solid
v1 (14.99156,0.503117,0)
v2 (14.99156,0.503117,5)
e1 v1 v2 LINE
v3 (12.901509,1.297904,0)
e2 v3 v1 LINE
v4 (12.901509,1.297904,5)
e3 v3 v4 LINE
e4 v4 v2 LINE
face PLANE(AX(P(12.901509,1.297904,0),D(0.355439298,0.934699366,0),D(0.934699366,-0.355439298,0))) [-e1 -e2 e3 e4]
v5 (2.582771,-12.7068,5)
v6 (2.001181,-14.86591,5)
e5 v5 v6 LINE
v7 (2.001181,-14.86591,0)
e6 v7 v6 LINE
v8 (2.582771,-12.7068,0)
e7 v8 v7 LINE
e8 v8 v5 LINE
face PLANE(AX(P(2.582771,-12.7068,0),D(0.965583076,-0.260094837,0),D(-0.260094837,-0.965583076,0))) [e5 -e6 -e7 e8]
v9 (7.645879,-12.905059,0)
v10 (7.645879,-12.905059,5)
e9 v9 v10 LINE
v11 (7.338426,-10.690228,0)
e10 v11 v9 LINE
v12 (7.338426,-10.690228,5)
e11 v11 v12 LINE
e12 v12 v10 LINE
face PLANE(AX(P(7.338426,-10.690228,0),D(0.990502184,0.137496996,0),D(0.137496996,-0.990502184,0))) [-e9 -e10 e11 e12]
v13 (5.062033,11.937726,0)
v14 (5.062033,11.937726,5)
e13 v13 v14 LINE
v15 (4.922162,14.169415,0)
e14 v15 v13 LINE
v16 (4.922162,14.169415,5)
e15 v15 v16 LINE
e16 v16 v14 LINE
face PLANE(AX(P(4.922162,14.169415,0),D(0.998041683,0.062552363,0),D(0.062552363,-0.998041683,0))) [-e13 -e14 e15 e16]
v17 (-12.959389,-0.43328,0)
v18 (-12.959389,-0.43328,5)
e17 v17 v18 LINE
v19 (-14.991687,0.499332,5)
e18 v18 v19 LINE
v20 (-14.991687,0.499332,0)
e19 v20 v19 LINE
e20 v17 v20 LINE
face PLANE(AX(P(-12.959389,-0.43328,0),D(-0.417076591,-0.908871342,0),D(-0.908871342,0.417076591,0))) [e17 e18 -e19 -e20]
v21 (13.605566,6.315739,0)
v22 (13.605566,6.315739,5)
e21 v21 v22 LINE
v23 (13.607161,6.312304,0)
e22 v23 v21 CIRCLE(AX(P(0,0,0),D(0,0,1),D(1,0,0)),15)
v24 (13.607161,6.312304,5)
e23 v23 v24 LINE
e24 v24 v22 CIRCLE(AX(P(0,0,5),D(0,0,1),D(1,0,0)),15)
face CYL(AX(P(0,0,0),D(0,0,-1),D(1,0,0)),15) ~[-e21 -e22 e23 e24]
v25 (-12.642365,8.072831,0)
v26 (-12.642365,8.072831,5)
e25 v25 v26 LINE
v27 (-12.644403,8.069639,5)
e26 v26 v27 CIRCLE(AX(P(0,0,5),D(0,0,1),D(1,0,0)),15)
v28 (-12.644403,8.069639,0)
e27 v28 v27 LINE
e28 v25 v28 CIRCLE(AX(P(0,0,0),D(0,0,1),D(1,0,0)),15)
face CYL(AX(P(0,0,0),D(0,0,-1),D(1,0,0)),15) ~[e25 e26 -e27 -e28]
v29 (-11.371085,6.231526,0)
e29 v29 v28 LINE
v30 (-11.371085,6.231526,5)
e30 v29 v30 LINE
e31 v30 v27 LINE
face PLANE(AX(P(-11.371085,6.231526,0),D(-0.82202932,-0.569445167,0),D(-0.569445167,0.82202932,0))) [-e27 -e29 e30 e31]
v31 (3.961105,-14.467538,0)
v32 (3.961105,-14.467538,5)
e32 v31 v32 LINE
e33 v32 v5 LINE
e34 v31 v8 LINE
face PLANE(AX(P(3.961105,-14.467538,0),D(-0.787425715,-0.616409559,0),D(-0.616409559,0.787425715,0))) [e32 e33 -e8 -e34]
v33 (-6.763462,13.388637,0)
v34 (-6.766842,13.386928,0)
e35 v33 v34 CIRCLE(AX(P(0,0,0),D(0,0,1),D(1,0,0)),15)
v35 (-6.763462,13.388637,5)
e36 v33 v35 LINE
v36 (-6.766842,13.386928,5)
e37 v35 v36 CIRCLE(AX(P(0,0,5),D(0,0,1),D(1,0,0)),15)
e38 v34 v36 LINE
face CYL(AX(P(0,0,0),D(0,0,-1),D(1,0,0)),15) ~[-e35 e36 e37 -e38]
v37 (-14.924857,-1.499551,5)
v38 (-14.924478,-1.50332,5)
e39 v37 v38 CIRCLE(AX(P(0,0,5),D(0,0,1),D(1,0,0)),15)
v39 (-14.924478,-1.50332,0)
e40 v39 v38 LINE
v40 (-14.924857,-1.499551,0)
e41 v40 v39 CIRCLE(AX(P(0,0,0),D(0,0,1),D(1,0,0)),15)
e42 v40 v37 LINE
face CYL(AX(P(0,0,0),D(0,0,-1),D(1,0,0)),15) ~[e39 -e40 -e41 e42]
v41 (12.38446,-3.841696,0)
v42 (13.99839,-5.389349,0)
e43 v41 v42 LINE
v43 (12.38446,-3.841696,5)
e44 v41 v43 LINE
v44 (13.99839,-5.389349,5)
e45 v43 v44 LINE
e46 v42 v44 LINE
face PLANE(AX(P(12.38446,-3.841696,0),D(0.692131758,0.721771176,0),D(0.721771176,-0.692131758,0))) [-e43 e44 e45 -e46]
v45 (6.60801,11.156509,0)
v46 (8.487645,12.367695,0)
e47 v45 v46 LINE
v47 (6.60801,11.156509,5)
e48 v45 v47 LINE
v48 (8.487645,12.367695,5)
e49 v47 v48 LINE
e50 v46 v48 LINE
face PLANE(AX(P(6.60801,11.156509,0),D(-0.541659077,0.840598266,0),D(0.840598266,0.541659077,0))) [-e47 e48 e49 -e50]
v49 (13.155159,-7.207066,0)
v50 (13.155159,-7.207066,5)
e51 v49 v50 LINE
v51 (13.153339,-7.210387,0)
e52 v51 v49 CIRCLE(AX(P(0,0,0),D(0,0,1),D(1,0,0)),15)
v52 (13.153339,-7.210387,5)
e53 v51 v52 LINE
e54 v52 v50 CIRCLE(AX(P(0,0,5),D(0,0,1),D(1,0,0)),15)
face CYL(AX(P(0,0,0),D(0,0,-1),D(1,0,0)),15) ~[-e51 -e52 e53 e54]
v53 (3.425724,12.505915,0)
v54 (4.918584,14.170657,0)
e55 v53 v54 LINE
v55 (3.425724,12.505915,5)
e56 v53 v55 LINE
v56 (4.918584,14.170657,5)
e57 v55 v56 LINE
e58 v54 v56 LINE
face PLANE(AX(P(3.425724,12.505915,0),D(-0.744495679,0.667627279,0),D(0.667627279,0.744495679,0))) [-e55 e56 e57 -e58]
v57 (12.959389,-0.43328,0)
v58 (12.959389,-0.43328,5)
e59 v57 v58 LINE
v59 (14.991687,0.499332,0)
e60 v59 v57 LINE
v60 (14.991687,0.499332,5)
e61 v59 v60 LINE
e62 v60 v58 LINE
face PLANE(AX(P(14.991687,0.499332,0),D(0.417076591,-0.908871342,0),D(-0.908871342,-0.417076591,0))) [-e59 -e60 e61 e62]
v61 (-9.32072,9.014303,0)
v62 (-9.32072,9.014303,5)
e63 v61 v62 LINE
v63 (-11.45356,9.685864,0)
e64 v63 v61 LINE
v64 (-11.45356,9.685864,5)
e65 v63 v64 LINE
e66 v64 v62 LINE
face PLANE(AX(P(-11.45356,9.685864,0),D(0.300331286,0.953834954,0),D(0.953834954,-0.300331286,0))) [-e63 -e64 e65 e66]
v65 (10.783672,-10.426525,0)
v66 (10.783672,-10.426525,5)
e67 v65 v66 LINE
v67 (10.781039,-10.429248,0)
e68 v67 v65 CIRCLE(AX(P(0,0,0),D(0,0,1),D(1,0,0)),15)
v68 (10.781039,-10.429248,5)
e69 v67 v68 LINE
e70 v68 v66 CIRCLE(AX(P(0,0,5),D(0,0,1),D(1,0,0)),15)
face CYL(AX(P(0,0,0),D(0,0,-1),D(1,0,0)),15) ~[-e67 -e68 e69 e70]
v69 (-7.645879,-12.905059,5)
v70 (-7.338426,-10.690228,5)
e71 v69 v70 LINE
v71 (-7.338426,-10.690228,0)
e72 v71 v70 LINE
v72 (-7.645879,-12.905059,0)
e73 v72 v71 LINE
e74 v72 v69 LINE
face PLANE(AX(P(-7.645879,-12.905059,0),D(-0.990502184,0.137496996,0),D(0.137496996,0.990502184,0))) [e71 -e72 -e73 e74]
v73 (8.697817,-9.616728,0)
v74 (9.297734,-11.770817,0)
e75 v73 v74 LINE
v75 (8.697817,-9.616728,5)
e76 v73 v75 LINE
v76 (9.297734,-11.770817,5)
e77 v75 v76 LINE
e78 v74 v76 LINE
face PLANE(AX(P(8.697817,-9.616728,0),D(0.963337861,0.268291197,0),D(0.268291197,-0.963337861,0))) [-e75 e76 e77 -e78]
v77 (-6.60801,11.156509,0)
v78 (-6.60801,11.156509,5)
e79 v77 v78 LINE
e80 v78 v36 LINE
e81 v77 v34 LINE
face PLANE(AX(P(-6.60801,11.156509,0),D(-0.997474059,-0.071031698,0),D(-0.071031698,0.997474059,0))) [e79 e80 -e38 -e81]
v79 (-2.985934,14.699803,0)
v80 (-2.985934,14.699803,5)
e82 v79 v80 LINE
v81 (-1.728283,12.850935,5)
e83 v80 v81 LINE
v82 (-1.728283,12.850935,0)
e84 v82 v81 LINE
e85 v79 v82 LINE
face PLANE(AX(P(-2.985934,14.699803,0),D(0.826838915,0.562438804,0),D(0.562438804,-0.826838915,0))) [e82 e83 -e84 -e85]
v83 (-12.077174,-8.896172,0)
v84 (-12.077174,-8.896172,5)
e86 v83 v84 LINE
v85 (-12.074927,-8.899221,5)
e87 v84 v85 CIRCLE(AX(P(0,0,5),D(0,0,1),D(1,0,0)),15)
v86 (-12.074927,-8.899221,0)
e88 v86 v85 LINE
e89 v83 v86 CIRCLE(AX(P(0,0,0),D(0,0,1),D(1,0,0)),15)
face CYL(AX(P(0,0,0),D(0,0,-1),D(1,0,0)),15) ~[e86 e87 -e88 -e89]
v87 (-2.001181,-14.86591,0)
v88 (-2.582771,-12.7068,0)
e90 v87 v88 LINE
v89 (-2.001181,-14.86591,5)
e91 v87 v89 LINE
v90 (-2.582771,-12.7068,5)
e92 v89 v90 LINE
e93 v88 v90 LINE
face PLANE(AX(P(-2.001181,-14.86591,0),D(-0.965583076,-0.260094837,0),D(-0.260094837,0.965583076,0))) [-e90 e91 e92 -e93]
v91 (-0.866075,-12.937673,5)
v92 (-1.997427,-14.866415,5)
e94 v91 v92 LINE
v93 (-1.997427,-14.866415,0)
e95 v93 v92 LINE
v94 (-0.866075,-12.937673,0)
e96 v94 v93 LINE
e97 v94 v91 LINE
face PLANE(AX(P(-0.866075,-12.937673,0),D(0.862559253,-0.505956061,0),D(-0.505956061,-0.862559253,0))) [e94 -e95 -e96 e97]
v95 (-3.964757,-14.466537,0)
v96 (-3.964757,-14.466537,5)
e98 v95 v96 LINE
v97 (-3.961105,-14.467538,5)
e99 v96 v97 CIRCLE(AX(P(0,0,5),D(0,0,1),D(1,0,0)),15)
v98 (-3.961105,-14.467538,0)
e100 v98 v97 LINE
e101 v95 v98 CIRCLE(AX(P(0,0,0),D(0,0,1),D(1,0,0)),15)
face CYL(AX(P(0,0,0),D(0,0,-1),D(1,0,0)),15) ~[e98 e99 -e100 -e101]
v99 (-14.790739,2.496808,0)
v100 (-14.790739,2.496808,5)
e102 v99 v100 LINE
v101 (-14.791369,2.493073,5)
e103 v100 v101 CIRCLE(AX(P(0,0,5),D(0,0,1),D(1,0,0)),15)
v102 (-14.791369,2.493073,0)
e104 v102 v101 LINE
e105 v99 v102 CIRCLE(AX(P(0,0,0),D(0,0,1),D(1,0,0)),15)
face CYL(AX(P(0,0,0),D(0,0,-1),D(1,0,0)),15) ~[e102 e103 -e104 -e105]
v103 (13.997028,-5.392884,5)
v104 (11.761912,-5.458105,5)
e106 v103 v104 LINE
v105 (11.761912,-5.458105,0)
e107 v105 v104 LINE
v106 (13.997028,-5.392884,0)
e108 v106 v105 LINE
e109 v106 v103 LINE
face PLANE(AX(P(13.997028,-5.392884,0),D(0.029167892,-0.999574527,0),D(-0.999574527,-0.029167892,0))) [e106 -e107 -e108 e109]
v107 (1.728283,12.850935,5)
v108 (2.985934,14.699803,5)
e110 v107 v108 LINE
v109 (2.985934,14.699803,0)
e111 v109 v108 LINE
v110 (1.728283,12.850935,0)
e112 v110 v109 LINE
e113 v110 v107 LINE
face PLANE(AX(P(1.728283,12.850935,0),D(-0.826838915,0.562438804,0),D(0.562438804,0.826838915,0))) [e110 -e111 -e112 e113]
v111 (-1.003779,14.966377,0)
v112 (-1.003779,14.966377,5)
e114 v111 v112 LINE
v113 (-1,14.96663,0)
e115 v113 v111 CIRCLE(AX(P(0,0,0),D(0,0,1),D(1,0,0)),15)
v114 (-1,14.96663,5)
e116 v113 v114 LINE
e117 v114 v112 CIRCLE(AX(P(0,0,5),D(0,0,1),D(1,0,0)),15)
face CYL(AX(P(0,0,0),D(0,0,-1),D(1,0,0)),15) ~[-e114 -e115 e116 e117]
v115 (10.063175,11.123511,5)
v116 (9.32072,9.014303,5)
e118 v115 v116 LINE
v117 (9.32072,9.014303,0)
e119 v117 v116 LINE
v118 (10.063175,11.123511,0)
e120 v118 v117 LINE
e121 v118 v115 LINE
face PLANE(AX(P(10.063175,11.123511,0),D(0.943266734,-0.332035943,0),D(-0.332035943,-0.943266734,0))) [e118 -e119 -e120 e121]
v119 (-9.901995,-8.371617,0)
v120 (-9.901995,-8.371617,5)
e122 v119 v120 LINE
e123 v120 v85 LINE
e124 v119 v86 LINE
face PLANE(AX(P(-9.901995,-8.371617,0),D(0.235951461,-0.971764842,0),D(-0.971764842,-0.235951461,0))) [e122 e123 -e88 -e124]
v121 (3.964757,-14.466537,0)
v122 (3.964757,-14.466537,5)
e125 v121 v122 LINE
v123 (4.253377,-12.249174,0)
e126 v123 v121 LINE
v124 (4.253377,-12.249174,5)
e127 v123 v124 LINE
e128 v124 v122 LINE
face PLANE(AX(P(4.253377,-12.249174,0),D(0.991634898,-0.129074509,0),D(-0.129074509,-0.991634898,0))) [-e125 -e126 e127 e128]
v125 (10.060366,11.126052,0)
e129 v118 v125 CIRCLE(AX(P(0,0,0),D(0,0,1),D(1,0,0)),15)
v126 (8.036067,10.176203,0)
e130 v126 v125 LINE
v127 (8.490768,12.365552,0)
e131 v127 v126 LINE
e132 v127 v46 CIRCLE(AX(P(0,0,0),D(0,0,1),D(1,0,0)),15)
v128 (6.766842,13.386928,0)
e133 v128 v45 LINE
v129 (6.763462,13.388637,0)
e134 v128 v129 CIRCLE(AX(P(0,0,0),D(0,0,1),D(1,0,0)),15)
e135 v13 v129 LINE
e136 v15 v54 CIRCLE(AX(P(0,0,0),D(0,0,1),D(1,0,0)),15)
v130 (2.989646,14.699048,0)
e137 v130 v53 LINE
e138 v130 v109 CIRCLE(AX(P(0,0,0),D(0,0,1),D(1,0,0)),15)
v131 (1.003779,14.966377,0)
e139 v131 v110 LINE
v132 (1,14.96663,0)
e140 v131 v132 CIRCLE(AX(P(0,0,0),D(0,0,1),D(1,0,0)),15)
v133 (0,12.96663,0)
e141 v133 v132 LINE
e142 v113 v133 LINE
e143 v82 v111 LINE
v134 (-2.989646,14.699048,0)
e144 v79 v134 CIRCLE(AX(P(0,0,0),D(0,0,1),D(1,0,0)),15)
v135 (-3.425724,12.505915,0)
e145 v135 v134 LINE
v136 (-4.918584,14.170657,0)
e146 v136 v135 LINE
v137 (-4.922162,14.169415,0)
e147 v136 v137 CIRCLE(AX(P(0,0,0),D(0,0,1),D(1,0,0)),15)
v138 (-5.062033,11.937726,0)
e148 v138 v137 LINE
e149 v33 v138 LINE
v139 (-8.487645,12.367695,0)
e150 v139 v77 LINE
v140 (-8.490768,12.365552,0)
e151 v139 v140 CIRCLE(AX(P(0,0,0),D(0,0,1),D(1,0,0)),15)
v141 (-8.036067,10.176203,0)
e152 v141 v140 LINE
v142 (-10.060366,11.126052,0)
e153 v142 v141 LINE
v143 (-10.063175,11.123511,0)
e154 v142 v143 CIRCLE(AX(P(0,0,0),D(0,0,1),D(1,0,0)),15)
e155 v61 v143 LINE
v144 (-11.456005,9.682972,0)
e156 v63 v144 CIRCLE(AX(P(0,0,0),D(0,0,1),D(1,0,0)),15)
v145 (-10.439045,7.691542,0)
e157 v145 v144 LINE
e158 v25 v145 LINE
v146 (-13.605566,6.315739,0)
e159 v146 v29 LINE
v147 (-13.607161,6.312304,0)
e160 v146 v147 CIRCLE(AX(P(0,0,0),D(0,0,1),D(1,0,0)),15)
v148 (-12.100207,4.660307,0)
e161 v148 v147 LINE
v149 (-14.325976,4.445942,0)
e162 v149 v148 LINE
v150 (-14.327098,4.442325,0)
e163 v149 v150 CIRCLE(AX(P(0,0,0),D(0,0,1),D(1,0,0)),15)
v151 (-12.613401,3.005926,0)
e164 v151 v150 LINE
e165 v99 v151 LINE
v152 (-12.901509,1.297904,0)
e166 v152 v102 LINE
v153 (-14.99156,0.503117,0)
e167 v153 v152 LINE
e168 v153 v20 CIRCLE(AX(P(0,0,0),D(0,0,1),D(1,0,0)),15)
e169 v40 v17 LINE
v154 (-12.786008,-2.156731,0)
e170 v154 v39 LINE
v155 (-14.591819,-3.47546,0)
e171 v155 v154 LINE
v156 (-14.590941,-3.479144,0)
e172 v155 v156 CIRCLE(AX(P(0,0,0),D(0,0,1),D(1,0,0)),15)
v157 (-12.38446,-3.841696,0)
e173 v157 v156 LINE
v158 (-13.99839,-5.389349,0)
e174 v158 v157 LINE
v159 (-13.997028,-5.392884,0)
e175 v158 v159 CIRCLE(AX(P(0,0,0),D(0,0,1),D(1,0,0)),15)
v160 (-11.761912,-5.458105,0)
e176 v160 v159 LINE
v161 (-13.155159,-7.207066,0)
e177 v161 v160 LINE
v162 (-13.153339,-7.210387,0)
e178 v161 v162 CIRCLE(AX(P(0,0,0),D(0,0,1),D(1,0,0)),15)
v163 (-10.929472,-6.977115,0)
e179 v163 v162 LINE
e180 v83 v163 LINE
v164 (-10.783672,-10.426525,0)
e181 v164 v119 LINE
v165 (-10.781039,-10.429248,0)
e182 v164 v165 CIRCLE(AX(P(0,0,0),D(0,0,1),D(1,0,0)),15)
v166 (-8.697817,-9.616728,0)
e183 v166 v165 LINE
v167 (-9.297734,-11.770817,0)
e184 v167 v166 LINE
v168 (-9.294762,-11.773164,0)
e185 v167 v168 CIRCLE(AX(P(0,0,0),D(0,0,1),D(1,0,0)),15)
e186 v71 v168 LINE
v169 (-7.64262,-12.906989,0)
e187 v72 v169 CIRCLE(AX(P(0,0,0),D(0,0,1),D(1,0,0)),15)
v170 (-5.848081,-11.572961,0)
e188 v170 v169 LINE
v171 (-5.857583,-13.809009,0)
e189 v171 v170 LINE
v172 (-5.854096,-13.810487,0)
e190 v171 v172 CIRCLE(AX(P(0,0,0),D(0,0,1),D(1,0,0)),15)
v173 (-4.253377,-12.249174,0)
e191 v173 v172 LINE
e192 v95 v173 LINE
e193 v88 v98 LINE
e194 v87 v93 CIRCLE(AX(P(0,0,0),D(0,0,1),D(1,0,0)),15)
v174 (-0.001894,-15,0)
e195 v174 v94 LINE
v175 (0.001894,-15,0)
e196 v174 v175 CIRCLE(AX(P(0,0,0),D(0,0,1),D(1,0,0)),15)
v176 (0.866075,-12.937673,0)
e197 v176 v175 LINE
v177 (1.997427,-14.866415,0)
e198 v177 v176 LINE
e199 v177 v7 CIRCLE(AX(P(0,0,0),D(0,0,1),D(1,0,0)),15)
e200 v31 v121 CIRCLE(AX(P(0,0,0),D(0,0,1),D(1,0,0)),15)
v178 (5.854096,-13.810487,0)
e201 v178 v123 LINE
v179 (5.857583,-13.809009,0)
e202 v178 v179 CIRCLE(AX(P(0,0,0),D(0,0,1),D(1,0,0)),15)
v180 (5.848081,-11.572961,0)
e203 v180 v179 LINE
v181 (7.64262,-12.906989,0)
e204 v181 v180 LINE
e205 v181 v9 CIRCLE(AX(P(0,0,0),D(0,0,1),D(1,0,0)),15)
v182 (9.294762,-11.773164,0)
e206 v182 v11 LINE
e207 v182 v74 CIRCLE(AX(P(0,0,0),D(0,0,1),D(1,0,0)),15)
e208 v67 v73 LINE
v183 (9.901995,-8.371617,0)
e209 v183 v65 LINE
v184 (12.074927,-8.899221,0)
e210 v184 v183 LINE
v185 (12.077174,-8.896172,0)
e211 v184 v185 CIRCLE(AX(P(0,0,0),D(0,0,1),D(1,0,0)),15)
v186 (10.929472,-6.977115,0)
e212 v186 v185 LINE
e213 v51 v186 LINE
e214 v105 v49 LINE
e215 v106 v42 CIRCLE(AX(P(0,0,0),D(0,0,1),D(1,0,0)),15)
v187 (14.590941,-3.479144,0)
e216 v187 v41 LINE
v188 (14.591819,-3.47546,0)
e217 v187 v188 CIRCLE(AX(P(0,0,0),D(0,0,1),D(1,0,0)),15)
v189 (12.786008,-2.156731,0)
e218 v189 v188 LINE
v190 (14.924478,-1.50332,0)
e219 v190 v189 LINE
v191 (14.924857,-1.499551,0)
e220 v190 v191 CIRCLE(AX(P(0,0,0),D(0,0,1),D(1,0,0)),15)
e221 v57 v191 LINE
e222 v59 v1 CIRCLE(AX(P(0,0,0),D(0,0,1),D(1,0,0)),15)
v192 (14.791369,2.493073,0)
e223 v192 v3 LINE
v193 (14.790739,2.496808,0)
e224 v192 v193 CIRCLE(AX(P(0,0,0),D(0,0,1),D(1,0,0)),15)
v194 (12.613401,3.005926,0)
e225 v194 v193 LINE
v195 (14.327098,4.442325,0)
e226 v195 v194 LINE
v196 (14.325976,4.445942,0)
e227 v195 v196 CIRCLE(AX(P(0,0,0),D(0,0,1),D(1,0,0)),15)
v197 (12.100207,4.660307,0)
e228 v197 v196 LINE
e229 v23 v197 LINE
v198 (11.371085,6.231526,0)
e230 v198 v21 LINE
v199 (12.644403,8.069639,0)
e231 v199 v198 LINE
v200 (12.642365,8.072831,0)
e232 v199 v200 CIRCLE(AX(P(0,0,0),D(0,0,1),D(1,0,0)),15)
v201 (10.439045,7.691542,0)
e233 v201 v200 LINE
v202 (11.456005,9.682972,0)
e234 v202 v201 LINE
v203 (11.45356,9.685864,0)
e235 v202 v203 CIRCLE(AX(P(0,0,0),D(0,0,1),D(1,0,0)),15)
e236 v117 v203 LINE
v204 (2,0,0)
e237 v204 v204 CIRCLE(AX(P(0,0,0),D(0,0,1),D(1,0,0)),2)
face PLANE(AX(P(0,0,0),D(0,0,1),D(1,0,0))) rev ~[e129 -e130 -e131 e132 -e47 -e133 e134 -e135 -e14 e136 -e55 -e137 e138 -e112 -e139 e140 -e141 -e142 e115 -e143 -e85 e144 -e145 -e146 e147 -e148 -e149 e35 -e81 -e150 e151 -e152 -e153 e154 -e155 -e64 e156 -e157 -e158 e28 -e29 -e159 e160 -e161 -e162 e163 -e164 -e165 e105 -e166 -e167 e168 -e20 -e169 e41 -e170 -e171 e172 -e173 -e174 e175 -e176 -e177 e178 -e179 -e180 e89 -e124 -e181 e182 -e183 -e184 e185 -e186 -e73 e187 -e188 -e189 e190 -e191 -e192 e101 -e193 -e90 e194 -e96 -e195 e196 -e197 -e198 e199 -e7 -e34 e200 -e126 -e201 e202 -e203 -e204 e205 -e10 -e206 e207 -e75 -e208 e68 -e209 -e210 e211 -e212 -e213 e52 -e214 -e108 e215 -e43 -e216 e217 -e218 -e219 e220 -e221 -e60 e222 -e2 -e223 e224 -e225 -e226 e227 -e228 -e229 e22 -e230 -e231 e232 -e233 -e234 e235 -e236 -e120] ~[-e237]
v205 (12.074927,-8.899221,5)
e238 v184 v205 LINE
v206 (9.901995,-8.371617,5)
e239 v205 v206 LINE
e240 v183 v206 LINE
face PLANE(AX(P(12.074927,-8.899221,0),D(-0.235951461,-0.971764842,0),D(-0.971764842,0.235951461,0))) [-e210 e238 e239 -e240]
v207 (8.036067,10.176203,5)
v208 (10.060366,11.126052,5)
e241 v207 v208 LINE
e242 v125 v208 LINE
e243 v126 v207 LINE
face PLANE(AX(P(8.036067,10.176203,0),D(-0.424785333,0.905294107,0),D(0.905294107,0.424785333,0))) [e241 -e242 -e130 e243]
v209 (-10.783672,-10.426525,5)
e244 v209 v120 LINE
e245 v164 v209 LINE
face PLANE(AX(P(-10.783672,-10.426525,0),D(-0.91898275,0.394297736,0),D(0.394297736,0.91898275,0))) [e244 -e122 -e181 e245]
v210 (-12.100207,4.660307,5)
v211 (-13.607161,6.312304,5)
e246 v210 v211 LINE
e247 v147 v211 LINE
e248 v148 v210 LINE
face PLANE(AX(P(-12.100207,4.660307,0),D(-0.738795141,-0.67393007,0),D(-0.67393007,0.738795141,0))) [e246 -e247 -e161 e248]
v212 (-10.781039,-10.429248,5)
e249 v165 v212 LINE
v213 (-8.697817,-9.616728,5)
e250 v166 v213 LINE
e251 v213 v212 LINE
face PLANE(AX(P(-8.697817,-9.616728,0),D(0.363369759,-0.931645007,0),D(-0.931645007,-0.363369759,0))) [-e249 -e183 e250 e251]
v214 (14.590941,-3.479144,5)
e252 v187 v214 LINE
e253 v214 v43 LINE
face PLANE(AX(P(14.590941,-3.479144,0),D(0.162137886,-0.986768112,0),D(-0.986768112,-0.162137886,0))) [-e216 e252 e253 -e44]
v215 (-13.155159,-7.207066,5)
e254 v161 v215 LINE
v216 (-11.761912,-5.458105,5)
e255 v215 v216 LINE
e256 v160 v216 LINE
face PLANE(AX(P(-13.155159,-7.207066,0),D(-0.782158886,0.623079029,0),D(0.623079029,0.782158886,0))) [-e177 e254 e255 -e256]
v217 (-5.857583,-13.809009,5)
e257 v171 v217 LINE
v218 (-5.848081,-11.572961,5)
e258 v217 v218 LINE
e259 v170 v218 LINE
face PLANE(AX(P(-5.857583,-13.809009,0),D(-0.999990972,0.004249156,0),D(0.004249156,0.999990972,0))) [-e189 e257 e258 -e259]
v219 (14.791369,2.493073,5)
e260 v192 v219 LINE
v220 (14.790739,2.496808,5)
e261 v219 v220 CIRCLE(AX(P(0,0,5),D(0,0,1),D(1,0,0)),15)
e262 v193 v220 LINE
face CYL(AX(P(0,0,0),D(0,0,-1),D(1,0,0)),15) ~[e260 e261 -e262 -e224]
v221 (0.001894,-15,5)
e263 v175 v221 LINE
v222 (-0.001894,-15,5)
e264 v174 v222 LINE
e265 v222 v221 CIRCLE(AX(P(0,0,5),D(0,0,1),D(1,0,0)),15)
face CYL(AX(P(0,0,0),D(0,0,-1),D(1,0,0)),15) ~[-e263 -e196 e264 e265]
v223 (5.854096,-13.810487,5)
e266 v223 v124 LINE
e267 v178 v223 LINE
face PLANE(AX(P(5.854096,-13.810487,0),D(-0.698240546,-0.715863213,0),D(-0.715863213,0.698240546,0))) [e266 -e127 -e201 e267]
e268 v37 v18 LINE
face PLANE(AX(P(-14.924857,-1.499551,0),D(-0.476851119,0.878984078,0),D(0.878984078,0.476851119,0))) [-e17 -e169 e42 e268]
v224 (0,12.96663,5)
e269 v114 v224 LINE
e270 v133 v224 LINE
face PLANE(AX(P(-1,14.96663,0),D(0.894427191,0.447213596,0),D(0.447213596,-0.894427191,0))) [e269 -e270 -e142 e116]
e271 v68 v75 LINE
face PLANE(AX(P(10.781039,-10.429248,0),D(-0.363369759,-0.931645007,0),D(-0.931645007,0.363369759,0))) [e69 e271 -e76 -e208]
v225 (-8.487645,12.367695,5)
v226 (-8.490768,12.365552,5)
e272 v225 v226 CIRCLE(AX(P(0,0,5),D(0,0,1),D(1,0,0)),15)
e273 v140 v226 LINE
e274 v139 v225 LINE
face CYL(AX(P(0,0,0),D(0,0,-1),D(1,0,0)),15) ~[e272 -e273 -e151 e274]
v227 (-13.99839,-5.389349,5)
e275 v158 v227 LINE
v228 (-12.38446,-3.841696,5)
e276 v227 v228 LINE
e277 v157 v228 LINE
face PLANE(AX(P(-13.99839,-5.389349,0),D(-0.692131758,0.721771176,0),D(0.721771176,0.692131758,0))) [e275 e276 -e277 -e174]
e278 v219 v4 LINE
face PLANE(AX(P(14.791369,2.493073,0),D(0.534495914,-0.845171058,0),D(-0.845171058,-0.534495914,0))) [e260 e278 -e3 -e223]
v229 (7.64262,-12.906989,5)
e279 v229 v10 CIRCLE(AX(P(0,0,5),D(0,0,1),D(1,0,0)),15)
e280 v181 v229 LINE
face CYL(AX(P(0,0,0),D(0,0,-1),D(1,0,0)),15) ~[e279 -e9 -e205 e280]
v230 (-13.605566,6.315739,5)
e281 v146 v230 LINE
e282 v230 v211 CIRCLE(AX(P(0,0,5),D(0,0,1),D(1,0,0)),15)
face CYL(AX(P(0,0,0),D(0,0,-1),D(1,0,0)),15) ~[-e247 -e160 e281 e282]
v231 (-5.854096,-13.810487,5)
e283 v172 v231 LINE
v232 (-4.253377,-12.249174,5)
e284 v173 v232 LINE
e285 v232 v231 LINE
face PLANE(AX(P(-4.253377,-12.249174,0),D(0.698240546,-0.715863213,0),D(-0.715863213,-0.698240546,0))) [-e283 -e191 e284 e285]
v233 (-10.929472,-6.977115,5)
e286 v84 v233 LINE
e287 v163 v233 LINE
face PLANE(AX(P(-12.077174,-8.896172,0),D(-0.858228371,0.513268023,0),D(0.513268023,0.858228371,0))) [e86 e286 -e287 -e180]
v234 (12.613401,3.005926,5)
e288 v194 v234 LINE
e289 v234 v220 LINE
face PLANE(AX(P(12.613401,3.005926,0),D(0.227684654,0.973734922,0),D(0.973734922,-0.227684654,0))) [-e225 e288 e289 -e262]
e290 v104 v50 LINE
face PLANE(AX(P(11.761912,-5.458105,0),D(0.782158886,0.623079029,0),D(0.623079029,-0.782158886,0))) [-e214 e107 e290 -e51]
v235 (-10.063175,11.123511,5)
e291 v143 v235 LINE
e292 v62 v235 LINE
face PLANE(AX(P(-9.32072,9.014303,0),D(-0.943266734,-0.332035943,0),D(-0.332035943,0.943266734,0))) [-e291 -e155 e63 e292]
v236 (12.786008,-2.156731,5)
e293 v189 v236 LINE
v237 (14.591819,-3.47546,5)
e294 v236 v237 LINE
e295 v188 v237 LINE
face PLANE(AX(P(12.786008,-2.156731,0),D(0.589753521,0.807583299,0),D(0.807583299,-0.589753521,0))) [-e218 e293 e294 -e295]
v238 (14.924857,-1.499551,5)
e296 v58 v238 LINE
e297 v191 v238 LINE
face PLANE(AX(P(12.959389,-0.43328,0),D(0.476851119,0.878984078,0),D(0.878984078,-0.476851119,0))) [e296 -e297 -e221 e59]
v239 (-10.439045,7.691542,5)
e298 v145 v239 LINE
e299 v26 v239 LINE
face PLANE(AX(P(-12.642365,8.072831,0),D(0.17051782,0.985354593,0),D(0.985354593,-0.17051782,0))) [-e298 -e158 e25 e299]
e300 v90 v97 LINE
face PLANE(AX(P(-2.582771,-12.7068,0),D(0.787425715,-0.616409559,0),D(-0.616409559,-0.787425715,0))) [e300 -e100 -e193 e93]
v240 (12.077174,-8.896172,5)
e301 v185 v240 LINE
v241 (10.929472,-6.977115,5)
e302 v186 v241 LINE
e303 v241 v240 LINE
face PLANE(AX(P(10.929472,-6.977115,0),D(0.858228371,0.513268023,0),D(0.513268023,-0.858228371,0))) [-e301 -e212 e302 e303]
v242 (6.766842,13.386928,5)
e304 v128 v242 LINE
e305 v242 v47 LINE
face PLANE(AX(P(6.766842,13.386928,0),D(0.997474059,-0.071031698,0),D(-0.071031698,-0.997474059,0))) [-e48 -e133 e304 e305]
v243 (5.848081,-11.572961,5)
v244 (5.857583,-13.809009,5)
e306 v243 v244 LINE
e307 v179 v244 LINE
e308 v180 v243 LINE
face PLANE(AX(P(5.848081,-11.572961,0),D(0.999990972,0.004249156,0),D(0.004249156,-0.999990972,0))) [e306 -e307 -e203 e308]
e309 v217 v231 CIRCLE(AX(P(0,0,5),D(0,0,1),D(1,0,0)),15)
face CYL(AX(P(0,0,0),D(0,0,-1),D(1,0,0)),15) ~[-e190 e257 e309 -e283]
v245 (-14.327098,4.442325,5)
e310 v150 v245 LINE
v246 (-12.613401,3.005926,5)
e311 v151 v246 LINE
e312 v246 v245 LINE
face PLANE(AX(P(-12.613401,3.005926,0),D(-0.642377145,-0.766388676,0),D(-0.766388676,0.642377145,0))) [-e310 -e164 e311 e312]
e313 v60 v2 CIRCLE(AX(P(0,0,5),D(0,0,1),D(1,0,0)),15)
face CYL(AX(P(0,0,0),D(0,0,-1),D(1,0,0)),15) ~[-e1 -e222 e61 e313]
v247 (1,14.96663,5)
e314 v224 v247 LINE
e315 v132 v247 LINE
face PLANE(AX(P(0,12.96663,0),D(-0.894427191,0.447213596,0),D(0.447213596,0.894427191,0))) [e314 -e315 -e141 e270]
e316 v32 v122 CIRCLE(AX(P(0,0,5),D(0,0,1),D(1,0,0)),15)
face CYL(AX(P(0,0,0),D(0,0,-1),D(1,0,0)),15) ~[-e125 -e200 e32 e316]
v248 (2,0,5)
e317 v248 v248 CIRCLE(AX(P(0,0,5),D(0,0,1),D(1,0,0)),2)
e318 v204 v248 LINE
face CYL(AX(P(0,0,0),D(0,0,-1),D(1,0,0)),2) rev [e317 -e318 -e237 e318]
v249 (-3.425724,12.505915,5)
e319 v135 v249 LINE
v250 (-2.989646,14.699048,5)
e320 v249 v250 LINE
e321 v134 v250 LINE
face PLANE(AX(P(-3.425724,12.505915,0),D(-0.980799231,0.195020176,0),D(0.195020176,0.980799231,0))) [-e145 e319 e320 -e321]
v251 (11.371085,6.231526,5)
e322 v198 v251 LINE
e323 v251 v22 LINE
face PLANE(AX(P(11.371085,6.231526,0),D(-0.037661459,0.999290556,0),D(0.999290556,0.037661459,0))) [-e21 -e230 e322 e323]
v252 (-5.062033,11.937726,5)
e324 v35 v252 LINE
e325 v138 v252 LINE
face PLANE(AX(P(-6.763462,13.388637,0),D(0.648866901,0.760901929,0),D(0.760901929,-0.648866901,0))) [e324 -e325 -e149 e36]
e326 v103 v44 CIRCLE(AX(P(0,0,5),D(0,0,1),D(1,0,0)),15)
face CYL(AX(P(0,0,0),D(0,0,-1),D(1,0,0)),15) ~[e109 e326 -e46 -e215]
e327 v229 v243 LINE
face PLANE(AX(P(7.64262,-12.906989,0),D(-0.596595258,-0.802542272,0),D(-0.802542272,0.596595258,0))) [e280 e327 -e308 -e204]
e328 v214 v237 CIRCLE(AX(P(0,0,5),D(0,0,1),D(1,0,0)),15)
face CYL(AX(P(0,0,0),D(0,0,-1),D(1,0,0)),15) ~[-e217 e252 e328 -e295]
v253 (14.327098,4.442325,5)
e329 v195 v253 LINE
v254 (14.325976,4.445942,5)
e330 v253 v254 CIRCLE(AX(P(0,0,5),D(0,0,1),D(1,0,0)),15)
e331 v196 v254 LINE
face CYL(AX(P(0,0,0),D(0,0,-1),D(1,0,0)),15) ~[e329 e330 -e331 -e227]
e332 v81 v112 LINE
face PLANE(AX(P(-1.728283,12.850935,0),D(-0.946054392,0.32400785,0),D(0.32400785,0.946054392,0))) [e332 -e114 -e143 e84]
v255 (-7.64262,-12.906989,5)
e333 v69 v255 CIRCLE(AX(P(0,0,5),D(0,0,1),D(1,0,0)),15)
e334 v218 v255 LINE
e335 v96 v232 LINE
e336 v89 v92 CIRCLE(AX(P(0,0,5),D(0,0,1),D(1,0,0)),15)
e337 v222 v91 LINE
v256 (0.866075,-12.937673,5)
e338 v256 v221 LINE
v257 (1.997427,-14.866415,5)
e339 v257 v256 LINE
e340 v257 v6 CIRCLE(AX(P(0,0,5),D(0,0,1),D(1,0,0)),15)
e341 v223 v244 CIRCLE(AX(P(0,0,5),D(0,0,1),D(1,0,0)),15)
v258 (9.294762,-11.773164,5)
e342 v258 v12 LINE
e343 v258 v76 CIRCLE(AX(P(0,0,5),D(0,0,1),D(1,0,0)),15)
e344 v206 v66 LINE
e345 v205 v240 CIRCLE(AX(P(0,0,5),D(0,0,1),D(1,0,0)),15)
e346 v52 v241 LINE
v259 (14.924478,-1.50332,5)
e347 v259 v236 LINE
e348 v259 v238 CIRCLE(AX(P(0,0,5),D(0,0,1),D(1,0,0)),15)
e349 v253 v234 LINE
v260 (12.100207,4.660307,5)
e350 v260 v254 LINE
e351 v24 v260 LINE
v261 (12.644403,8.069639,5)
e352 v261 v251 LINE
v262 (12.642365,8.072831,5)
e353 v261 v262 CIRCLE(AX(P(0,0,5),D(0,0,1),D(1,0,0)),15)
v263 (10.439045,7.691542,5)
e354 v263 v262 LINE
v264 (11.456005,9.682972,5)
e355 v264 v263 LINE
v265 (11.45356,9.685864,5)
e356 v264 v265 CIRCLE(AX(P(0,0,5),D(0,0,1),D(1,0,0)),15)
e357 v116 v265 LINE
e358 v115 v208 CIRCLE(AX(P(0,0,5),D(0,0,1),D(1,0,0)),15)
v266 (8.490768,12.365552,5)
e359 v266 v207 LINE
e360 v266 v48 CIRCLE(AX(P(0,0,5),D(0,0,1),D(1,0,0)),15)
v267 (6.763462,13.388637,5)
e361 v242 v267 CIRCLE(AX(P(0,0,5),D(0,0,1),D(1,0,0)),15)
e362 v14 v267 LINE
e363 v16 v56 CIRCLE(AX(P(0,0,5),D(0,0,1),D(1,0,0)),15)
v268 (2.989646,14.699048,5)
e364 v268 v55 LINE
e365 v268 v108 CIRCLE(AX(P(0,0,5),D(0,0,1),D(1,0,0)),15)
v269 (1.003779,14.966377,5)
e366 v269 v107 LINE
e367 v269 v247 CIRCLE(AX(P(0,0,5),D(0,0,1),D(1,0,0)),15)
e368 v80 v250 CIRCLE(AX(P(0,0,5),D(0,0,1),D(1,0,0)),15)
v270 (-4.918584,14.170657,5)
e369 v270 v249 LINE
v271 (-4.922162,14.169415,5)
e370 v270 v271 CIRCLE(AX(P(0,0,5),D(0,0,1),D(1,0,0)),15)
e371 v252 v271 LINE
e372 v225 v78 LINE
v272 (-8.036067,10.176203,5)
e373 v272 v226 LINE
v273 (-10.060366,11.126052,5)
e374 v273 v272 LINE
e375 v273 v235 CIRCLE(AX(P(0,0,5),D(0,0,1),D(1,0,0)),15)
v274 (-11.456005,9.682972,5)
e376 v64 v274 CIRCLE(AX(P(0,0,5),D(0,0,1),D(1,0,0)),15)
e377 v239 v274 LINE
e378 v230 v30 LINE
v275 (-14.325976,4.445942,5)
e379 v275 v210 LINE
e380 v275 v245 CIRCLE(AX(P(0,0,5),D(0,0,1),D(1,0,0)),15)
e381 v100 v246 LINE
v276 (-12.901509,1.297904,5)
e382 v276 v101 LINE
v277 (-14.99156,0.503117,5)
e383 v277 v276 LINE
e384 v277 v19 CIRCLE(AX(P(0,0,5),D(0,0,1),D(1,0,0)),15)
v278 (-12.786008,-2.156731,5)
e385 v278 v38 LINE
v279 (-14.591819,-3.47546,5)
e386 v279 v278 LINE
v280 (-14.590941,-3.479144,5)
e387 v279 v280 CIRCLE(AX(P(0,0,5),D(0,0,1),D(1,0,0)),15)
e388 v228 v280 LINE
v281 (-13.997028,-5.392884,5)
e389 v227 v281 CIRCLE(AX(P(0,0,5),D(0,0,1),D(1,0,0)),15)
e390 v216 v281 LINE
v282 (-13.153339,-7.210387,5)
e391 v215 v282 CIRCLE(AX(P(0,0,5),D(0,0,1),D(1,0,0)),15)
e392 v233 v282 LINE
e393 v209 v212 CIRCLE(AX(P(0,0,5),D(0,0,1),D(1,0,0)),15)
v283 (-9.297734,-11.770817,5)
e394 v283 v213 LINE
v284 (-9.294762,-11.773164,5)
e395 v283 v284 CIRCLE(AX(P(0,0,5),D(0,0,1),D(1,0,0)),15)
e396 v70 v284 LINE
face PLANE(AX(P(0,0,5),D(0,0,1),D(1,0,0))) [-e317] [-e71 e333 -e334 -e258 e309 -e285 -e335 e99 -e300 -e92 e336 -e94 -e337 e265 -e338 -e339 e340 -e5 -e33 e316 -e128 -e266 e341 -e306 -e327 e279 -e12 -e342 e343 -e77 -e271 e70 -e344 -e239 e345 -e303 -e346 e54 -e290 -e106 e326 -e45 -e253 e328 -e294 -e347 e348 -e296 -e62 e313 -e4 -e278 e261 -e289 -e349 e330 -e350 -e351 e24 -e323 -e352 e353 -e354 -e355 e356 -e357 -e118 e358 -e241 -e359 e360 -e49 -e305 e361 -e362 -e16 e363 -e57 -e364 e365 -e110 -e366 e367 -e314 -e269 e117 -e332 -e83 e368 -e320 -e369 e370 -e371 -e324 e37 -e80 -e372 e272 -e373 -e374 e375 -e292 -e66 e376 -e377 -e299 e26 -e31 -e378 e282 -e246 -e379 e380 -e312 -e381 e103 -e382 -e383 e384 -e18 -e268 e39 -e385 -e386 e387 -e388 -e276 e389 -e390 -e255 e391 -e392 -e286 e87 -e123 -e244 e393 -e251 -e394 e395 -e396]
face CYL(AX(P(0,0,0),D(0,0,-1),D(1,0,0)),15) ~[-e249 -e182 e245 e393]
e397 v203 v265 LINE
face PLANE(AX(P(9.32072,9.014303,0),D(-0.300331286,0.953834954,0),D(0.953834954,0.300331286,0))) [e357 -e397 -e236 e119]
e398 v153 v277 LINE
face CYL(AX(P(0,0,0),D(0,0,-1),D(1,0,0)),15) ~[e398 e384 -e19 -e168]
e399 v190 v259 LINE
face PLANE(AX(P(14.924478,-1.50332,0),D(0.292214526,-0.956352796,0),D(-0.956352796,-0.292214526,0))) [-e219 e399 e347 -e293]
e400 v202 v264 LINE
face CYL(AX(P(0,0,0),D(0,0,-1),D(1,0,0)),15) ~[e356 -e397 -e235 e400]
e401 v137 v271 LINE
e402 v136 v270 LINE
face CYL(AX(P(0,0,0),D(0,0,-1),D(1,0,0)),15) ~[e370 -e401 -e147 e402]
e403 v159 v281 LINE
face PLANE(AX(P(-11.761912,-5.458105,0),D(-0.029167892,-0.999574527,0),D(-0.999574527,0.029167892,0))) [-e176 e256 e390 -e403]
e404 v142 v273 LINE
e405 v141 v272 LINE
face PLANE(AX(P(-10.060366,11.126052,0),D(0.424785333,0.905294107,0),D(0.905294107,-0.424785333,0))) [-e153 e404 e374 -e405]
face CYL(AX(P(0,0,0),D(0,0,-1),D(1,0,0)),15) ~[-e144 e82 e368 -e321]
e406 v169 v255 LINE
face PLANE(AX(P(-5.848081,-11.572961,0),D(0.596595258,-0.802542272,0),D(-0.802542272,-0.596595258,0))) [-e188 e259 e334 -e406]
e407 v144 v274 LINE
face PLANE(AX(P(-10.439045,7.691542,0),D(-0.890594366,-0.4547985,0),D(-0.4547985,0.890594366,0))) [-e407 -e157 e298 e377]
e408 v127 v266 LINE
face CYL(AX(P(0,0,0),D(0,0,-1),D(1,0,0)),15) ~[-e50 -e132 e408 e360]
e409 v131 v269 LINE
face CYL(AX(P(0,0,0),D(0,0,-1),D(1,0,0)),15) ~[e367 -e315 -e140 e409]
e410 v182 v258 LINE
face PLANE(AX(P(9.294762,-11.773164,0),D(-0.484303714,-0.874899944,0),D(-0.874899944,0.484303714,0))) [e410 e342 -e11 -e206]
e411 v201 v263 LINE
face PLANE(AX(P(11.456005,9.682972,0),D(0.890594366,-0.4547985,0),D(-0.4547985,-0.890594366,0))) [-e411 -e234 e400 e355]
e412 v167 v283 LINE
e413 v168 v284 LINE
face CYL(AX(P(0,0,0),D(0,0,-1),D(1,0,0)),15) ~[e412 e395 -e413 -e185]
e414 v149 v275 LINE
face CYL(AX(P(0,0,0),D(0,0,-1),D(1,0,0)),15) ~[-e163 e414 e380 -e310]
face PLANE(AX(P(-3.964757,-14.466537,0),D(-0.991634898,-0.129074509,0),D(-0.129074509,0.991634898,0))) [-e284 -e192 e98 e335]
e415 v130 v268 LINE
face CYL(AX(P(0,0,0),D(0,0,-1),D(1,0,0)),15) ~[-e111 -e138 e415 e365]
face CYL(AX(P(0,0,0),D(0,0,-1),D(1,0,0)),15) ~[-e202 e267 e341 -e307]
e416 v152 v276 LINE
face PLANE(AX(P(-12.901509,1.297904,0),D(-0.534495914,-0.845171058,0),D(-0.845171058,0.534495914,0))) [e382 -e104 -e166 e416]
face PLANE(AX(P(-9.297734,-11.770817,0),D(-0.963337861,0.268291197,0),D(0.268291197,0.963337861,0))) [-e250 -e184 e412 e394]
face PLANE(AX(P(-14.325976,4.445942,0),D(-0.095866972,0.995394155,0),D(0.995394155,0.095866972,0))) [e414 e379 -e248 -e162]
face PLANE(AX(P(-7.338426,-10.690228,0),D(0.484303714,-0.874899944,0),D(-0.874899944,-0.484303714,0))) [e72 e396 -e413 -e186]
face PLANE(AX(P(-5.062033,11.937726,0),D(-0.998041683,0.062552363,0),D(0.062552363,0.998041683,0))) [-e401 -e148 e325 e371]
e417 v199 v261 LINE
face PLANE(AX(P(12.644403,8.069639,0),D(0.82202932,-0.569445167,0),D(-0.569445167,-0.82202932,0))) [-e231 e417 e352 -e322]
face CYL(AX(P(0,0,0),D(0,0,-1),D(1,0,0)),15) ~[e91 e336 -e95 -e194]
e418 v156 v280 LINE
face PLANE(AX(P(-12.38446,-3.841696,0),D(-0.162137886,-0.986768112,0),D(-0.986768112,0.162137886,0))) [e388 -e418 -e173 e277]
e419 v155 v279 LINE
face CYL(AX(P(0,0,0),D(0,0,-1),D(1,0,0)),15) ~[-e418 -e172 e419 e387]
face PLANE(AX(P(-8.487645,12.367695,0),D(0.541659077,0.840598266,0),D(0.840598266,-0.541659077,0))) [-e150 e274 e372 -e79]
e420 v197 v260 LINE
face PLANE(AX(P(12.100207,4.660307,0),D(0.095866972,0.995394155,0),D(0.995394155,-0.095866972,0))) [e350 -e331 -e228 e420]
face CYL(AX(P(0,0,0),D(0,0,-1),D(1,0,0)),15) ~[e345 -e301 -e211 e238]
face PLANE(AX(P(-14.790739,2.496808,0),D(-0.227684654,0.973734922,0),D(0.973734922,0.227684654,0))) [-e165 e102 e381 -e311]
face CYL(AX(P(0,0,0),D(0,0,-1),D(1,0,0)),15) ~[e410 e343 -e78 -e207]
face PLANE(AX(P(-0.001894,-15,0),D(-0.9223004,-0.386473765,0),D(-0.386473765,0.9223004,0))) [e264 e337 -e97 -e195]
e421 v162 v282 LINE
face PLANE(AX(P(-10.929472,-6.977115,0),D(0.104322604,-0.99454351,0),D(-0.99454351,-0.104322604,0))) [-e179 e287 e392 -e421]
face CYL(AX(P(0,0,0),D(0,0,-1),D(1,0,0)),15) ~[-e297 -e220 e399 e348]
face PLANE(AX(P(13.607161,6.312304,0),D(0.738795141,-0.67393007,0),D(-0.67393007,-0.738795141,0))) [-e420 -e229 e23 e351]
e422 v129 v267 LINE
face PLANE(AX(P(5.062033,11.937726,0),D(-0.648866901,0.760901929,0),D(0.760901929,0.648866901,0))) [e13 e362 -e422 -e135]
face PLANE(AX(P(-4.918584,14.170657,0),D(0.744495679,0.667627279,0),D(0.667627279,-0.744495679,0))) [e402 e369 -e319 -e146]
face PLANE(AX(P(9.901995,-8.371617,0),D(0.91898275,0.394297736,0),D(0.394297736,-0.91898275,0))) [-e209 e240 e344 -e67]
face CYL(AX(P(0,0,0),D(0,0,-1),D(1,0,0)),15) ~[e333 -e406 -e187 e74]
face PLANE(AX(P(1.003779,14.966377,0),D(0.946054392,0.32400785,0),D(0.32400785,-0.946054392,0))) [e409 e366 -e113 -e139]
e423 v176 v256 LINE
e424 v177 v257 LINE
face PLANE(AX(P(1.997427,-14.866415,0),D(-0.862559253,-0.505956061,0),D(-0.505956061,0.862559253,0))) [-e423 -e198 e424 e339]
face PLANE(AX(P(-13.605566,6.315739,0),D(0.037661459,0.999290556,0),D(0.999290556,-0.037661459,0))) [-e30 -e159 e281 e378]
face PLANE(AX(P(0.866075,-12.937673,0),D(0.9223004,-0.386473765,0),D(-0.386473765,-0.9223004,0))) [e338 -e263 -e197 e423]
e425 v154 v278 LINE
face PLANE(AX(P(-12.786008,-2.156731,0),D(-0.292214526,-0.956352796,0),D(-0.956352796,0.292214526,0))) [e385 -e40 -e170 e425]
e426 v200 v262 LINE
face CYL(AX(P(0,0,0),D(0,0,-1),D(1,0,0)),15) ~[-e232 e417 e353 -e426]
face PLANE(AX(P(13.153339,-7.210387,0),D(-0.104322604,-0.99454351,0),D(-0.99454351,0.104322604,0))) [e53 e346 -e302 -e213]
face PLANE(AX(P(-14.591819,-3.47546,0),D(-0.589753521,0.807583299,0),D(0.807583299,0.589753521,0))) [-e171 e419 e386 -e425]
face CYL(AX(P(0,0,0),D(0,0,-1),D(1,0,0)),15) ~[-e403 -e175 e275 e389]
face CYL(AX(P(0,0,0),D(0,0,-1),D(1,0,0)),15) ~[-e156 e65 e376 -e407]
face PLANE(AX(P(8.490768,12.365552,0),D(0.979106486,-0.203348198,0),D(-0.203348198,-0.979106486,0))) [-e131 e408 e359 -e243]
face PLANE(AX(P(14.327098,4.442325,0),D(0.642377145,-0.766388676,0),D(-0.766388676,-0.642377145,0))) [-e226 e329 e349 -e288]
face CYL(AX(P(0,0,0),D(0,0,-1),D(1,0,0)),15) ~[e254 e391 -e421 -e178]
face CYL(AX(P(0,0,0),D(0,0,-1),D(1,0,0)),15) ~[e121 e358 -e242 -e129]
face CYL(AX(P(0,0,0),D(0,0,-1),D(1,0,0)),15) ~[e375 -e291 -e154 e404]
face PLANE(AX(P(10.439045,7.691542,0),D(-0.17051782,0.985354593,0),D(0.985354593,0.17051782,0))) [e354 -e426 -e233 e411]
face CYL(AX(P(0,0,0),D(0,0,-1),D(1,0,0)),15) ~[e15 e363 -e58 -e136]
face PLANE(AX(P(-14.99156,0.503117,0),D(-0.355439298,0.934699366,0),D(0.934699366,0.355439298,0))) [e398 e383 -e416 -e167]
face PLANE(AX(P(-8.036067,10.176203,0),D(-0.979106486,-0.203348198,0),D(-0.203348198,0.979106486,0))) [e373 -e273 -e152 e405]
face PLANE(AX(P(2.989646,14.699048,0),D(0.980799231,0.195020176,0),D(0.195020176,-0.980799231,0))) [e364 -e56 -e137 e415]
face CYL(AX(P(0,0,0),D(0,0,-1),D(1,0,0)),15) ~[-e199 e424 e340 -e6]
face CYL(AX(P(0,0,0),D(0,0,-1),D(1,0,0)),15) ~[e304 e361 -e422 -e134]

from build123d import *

# Parameters (mm, degrees)
CROQUIS2_R              = 15
CROQUIS2_R_2            = 2
SALIENTE_EXTRUIR1_DEPTH = 5
CORTAR_EXTRUIR2_START   = -5
CORTAR_EXTRUIR2_DEPTH   = 5


with BuildPart() as part:
    # Croquis2 → Saliente-Extruir1 (new body)
    with BuildSketch(Plane.XY):
        Circle(CROQUIS2_R)
        Circle(CROQUIS2_R_2, mode=Mode.SUBTRACT)
    extrude(amount=SALIENTE_EXTRUIR1_DEPTH)

    # Croquis3 → Cortar-Extruir2 (cut)
    with BuildSketch(Plane.XY.offset(5).offset(CORTAR_EXTRUIR2_START)):
        with BuildLine():
            Line((-1, 14.966629547), (0, 12.966629547))
            Line((0, 12.966629547), (1, 14.966629547))
            ThreePointArc((1, 14.966629547), (0, 15), (-1, 14.966629547))
        make_face()
        with BuildLine():
            Line((1.003778996, 14.966376573), (1.728282574, 12.850934641))
            Line((1.728282574, 12.850934641), (2.985933973, 14.699802662))
            ThreePointArc((2.985933973, 14.699802662), (1.999304331, 14.866162322), (1.003778996, 14.966376573))
        make_face()
        with BuildLine():
            Line((2.989645533, 14.699048255), (3.425723904, 12.505914503))
            Line((3.425723904, 12.505914503), (4.918583883, 14.170657451))
            ThreePointArc((4.918583883, 14.170657451), (3.962931028, 14.467037626), (2.989645533, 14.699048255))
        make_face()
        with BuildLine():
            Line((4.922161774, 14.169415072), (5.06203311, 11.937726023))
            Line((5.06203311, 11.937726023), (6.763461547, 13.388636521))
            ThreePointArc((6.763461547, 13.388636521), (5.855839127, 13.8097483), (4.922161774, 14.169415072))
        make_face()
        with BuildLine():
            Line((6.766841921, 13.386928341), (6.608010216, 11.15650854))
            Line((6.608010216, 11.15650854), (8.48764508, 12.367695056))
            ThreePointArc((8.48764508, 12.367695056), (7.644249639, 12.906023689), (6.766841921, 13.386928341))
        make_face()
        with BuildLine():
            Line((8.490767615, 12.365551557), (8.036067222, 10.176202898))
            Line((8.036067222, 10.176202898), (10.060366385, 11.126051779))
            ThreePointArc((10.060366385, 11.126051779), (9.296248334, 11.771990779), (8.490767615, 12.365551557))
        make_face()
        with BuildLine():
            Line((10.063175359, 11.123511213), (9.320720419, 9.014302674))
            Line((9.320720419, 9.014302674), (11.453560214, 9.685863845))
            ThreePointArc((11.453560214, 9.685863845), (10.782355258, 10.427886415), (10.063175359, 11.123511213))
        make_face()
        with BuildLine():
            Line((11.4560055, 9.682971547), (10.439045138, 7.691542005))
            Line((10.439045138, 7.691542005), (12.642364989, 8.072831441))
            ThreePointArc((12.642364989, 8.072831441), (12.076050797, 8.897696171), (11.4560055, 9.682971547))
        make_face()
        with BuildLine():
            Line((12.644402952, 8.069639025), (11.37108485, 6.231525587))
            Line((11.37108485, 6.231525587), (13.605566462, 6.315739169))
            ThreePointArc((13.605566462, 6.315739169), (13.154248923, 7.208726328), (12.644402952, 8.069639025))
        make_face()
        with BuildLine():
            Line((13.607160733, 6.312303603), (12.100207284, 4.660307447))
            Line((12.100207284, 4.660307447), (14.325976279, 4.445942381))
            ThreePointArc((14.325976279, 4.445942381), (13.997709166, 5.391116593), (13.607160733, 6.312303603))
        make_face()
        with BuildLine():
            Line((14.327098409, 4.442324974), (12.613401232, 3.00592601))
            Line((12.613401232, 3.00592601), (14.79073871, 2.496807647))
            ThreePointArc((14.79073871, 2.496807647), (14.591379956, 3.477302254), (14.327098409, 4.442324974))
        make_face()
        with BuildLine():
            Line((14.791368674, 2.493072951), (12.901508736, 1.297903753))
            Line((12.901508736, 1.297903753), (14.991560058, 0.503117321))
            ThreePointArc((14.991560058, 0.503117321), (14.924667226, 1.501435374), (14.791368674, 2.493072951))
        make_face()
        with BuildLine():
            Line((14.991686615, 0.499331982), (12.959388511, -0.433279628))
            Line((12.959388511, -0.433279628), (14.924856661, -1.499551146))
            ThreePointArc((14.924856661, -1.499551146), (14.991623456, -0.501224655), (14.991686615, 0.499331982))
        make_face()
        with BuildLine():
            Line((14.924477553, -1.503319579), (12.786007691, -2.156731124))
            Line((12.786007691, -2.156731124), (14.591818844, -3.475460087))
            ThreePointArc((14.591818844, -3.475460087), (14.79105381, -2.494940319), (14.924477553, -1.503319579))
        make_face()
        with BuildLine():
            Line((14.590940836, -3.479144366), (12.384460261, -3.841695701))
            Line((12.384460261, -3.841695701), (13.998389674, -5.38934936))
            ThreePointArc((13.998389674, -5.38934936), (14.326537458, -4.444133713), (14.590940836, -3.479144366))
        make_face()
        with BuildLine():
            Line((13.997028434, -5.392883739), (11.761911844, -5.458105128))
            Line((11.761911844, -5.458105128), (13.155158909, -7.207065566))
            ThreePointArc((13.155158909, -7.207065566), (13.606363706, -6.314021436), (13.997028434, -5.392883739))
        make_face()
        with BuildLine():
            Line((13.153338728, -7.210386974), (10.929471832, -6.977114539))
            Line((10.929471832, -6.977114539), (12.077174021, -8.896171517))
            ThreePointArc((12.077174021, -8.896171517), (12.643384071, -8.071235297), (13.153338728, -7.210386974))
        make_face()
        with BuildLine():
            Line((12.07492738, -8.899220683), (9.901995135, -8.371617176))
            Line((9.901995135, -8.371617176), (10.783671677, -10.426525076))
            ThreePointArc((10.783671677, -10.426525076), (11.454782948, -9.684417773), (12.07492738, -8.899220683))
        make_face()
        with BuildLine():
            Line((10.781038667, -10.429247588), (8.697817102, -9.616728107))
            Line((8.697817102, -9.616728107), (9.297734456, -11.770817048))
            ThreePointArc((9.297734456, -11.770817048), (10.061770952, -11.124781585), (10.781038667, -10.429247588))
        make_face()
        with BuildLine():
            Line((9.294762064, -11.773164323), (7.338426315, -10.690228296))
            Line((7.338426315, -10.690228296), (7.645878944, -12.905058511))
            ThreePointArc((7.645878944, -12.905058511), (8.489206415, -12.366623405), (9.294762064, -11.773164323))
        make_face()
        with BuildLine():
            Line((7.642620212, -12.906988661), (5.848081138, -11.572961108))
            Line((5.848081138, -11.572961108), (5.85758254, -13.809008899))
            ThreePointArc((5.85758254, -13.809008899), (6.765151788, -13.387782538), (7.642620212, -12.906988661))
        make_face()
        with BuildLine():
            Line((5.854095621, -13.810487481), (4.253376814, -12.249174155))
            Line((4.253376814, -12.249174155), (3.964757438, -14.466537197))
            ThreePointArc((3.964757438, -14.466537197), (4.920372868, -14.170036374), (5.854095621, -13.810487481))
        make_face()
        with BuildLine():
            Line((3.961104555, -14.467537825), (2.58277088, -12.7068004))
            Line((2.58277088, -12.7068004), (2.001181145, -14.865909795))
            ThreePointArc((2.001181145, -14.865909795), (2.987789777, -14.699425576), (3.961104555, -14.467537825))
        make_face()
        with BuildLine():
            Line((1.997427484, -14.866414613), (0.866075338, -12.937673489))
            Line((0.866075338, -12.937673489), (0.001893727, -14.99999988))
            ThreePointArc((0.001893727, -14.99999988), (1.001889506, -14.966503179), (1.997427484, -14.866414613))
        make_face()
        with BuildLine():
            Line((-0.001893727, -14.99999988), (-0.866075338, -12.937673489))
            Line((-0.866075338, -12.937673489), (-1.997427484, -14.866414613))
            ThreePointArc((-1.997427484, -14.866414613), (-1.001889506, -14.966503179), (-0.001893727, -14.99999988))
        make_face()
        with BuildLine():
            Line((-2.001181145, -14.865909795), (-2.58277088, -12.7068004))
            Line((-2.58277088, -12.7068004), (-3.961104555, -14.467537825))
            ThreePointArc((-3.961104555, -14.467537825), (-2.987789777, -14.699425576), (-2.001181145, -14.865909795))
        make_face()
        with BuildLine():
            Line((-3.964757438, -14.466537197), (-4.253376814, -12.249174155))
            Line((-4.253376814, -12.249174155), (-5.854095621, -13.810487481))
            ThreePointArc((-5.854095621, -13.810487481), (-4.920372868, -14.170036374), (-3.964757438, -14.466537197))
        make_face()
        with BuildLine():
            Line((-5.85758254, -13.809008899), (-5.848081138, -11.572961108))
            Line((-5.848081138, -11.572961108), (-7.642620212, -12.906988661))
            ThreePointArc((-7.642620212, -12.906988661), (-6.765151788, -13.387782538), (-5.85758254, -13.809008899))
        make_face()
        with BuildLine():
            Line((-7.645878944, -12.905058511), (-7.338426315, -10.690228296))
            Line((-7.338426315, -10.690228296), (-9.294762064, -11.773164323))
            ThreePointArc((-9.294762064, -11.773164323), (-8.489206415, -12.366623405), (-7.645878944, -12.905058511))
        make_face()
        with BuildLine():
            Line((-9.297734456, -11.770817048), (-8.697817102, -9.616728107))
            Line((-8.697817102, -9.616728107), (-10.781038667, -10.429247588))
            ThreePointArc((-10.781038667, -10.429247588), (-10.061770952, -11.124781585), (-9.297734456, -11.770817048))
        make_face()
        with BuildLine():
            Line((-10.783671677, -10.426525076), (-9.901995135, -8.371617176))
            Line((-9.901995135, -8.371617176), (-12.07492738, -8.899220683))
            ThreePointArc((-12.07492738, -8.899220683), (-11.454782948, -9.684417773), (-10.783671677, -10.426525076))
        make_face()
        with BuildLine():
            Line((-12.077174021, -8.896171517), (-10.929471832, -6.977114539))
            Line((-10.929471832, -6.977114539), (-13.153338728, -7.210386974))
            ThreePointArc((-13.153338728, -7.210386974), (-12.643384071, -8.071235297), (-12.077174021, -8.896171517))
        make_face()
        with BuildLine():
            Line((-13.155158909, -7.207065566), (-11.761911844, -5.458105128))
            Line((-11.761911844, -5.458105128), (-13.997028434, -5.392883739))
            ThreePointArc((-13.997028434, -5.392883739), (-13.606363706, -6.314021436), (-13.155158909, -7.207065566))
        make_face()
        with BuildLine():
            Line((-13.998389674, -5.38934936), (-12.384460261, -3.841695701))
            Line((-12.384460261, -3.841695701), (-14.590940836, -3.479144366))
            ThreePointArc((-14.590940836, -3.479144366), (-14.326537458, -4.444133713), (-13.998389674, -5.38934936))
        make_face()
        with BuildLine():
            Line((-14.591818844, -3.475460087), (-12.786007691, -2.156731124))
            Line((-12.786007691, -2.156731124), (-14.924477553, -1.503319579))
            ThreePointArc((-14.924477553, -1.503319579), (-14.79105381, -2.494940319), (-14.591818844, -3.475460087))
        make_face()
        with BuildLine():
            Line((-14.924856661, -1.499551146), (-12.959388511, -0.433279628))
            Line((-12.959388511, -0.433279628), (-14.991686615, 0.499331982))
            ThreePointArc((-14.991686615, 0.499331982), (-14.991623456, -0.501224655), (-14.924856661, -1.499551146))
        make_face()
        with BuildLine():
            Line((-14.991560058, 0.503117321), (-12.901508736, 1.297903753))
            Line((-12.901508736, 1.297903753), (-14.791368674, 2.493072951))
            ThreePointArc((-14.791368674, 2.493072951), (-14.924667226, 1.501435374), (-14.991560058, 0.503117321))
        make_face()
        with BuildLine():
            Line((-14.79073871, 2.496807647), (-12.613401232, 3.00592601))
            Line((-12.613401232, 3.00592601), (-14.327098409, 4.442324974))
            ThreePointArc((-14.327098409, 4.442324974), (-14.591379956, 3.477302254), (-14.79073871, 2.496807647))
        make_face()
        with BuildLine():
            Line((-14.325976279, 4.445942381), (-12.100207284, 4.660307447))
            Line((-12.100207284, 4.660307447), (-13.607160733, 6.312303603))
            ThreePointArc((-13.607160733, 6.312303603), (-13.997709166, 5.391116593), (-14.325976279, 4.445942381))
        make_face()
        with BuildLine():
            Line((-13.605566462, 6.315739169), (-11.37108485, 6.231525587))
            Line((-11.37108485, 6.231525587), (-12.644402952, 8.069639025))
            ThreePointArc((-12.644402952, 8.069639025), (-13.154248923, 7.208726328), (-13.605566462, 6.315739169))
        make_face()
        with BuildLine():
            Line((-12.642364989, 8.072831441), (-10.439045138, 7.691542005))
            Line((-10.439045138, 7.691542005), (-11.4560055, 9.682971547))
            ThreePointArc((-11.4560055, 9.682971547), (-12.076050797, 8.897696171), (-12.642364989, 8.072831441))
        make_face()
        with BuildLine():
            Line((-11.453560214, 9.685863845), (-9.320720419, 9.014302674))
            Line((-9.320720419, 9.014302674), (-10.063175359, 11.123511213))
            ThreePointArc((-10.063175359, 11.123511213), (-10.782355258, 10.427886415), (-11.453560214, 9.685863845))
        make_face()
        with BuildLine():
            Line((-10.060366385, 11.126051779), (-8.036067222, 10.176202898))
            Line((-8.036067222, 10.176202898), (-8.490767615, 12.365551557))
            ThreePointArc((-8.490767615, 12.365551557), (-9.296248334, 11.771990779), (-10.060366385, 11.126051779))
        make_face()
        with BuildLine():
            Line((-8.48764508, 12.367695056), (-6.608010216, 11.15650854))
            Line((-6.608010216, 11.15650854), (-6.766841921, 13.386928341))
            ThreePointArc((-6.766841921, 13.386928341), (-7.644249639, 12.906023689), (-8.48764508, 12.367695056))
        make_face()
        with BuildLine():
            Line((-6.763461547, 13.388636521), (-5.06203311, 11.937726023))
            Line((-5.06203311, 11.937726023), (-4.922161774, 14.169415072))
            ThreePointArc((-4.922161774, 14.169415072), (-5.855839127, 13.8097483), (-6.763461547, 13.388636521))
        make_face()
        with BuildLine():
            Line((-4.918583883, 14.170657451), (-3.425723904, 12.505914503))
            Line((-3.425723904, 12.505914503), (-2.989645533, 14.699048255))
            ThreePointArc((-2.989645533, 14.699048255), (-3.962931028, 14.467037626), (-4.918583883, 14.170657451))
        make_face()
        with BuildLine():
            Line((-2.985933973, 14.699802662), (-1.728282574, 12.850934641))
            Line((-1.728282574, 12.850934641), (-1.003778996, 14.966376573))
            ThreePointArc((-1.003778996, 14.966376573), (-1.999304331, 14.866162322), (-2.985933973, 14.699802662))
        make_face()
    extrude(amount=CORTAR_EXTRUIR2_DEPTH, mode=Mode.SUBTRACT)


solid = part.part
